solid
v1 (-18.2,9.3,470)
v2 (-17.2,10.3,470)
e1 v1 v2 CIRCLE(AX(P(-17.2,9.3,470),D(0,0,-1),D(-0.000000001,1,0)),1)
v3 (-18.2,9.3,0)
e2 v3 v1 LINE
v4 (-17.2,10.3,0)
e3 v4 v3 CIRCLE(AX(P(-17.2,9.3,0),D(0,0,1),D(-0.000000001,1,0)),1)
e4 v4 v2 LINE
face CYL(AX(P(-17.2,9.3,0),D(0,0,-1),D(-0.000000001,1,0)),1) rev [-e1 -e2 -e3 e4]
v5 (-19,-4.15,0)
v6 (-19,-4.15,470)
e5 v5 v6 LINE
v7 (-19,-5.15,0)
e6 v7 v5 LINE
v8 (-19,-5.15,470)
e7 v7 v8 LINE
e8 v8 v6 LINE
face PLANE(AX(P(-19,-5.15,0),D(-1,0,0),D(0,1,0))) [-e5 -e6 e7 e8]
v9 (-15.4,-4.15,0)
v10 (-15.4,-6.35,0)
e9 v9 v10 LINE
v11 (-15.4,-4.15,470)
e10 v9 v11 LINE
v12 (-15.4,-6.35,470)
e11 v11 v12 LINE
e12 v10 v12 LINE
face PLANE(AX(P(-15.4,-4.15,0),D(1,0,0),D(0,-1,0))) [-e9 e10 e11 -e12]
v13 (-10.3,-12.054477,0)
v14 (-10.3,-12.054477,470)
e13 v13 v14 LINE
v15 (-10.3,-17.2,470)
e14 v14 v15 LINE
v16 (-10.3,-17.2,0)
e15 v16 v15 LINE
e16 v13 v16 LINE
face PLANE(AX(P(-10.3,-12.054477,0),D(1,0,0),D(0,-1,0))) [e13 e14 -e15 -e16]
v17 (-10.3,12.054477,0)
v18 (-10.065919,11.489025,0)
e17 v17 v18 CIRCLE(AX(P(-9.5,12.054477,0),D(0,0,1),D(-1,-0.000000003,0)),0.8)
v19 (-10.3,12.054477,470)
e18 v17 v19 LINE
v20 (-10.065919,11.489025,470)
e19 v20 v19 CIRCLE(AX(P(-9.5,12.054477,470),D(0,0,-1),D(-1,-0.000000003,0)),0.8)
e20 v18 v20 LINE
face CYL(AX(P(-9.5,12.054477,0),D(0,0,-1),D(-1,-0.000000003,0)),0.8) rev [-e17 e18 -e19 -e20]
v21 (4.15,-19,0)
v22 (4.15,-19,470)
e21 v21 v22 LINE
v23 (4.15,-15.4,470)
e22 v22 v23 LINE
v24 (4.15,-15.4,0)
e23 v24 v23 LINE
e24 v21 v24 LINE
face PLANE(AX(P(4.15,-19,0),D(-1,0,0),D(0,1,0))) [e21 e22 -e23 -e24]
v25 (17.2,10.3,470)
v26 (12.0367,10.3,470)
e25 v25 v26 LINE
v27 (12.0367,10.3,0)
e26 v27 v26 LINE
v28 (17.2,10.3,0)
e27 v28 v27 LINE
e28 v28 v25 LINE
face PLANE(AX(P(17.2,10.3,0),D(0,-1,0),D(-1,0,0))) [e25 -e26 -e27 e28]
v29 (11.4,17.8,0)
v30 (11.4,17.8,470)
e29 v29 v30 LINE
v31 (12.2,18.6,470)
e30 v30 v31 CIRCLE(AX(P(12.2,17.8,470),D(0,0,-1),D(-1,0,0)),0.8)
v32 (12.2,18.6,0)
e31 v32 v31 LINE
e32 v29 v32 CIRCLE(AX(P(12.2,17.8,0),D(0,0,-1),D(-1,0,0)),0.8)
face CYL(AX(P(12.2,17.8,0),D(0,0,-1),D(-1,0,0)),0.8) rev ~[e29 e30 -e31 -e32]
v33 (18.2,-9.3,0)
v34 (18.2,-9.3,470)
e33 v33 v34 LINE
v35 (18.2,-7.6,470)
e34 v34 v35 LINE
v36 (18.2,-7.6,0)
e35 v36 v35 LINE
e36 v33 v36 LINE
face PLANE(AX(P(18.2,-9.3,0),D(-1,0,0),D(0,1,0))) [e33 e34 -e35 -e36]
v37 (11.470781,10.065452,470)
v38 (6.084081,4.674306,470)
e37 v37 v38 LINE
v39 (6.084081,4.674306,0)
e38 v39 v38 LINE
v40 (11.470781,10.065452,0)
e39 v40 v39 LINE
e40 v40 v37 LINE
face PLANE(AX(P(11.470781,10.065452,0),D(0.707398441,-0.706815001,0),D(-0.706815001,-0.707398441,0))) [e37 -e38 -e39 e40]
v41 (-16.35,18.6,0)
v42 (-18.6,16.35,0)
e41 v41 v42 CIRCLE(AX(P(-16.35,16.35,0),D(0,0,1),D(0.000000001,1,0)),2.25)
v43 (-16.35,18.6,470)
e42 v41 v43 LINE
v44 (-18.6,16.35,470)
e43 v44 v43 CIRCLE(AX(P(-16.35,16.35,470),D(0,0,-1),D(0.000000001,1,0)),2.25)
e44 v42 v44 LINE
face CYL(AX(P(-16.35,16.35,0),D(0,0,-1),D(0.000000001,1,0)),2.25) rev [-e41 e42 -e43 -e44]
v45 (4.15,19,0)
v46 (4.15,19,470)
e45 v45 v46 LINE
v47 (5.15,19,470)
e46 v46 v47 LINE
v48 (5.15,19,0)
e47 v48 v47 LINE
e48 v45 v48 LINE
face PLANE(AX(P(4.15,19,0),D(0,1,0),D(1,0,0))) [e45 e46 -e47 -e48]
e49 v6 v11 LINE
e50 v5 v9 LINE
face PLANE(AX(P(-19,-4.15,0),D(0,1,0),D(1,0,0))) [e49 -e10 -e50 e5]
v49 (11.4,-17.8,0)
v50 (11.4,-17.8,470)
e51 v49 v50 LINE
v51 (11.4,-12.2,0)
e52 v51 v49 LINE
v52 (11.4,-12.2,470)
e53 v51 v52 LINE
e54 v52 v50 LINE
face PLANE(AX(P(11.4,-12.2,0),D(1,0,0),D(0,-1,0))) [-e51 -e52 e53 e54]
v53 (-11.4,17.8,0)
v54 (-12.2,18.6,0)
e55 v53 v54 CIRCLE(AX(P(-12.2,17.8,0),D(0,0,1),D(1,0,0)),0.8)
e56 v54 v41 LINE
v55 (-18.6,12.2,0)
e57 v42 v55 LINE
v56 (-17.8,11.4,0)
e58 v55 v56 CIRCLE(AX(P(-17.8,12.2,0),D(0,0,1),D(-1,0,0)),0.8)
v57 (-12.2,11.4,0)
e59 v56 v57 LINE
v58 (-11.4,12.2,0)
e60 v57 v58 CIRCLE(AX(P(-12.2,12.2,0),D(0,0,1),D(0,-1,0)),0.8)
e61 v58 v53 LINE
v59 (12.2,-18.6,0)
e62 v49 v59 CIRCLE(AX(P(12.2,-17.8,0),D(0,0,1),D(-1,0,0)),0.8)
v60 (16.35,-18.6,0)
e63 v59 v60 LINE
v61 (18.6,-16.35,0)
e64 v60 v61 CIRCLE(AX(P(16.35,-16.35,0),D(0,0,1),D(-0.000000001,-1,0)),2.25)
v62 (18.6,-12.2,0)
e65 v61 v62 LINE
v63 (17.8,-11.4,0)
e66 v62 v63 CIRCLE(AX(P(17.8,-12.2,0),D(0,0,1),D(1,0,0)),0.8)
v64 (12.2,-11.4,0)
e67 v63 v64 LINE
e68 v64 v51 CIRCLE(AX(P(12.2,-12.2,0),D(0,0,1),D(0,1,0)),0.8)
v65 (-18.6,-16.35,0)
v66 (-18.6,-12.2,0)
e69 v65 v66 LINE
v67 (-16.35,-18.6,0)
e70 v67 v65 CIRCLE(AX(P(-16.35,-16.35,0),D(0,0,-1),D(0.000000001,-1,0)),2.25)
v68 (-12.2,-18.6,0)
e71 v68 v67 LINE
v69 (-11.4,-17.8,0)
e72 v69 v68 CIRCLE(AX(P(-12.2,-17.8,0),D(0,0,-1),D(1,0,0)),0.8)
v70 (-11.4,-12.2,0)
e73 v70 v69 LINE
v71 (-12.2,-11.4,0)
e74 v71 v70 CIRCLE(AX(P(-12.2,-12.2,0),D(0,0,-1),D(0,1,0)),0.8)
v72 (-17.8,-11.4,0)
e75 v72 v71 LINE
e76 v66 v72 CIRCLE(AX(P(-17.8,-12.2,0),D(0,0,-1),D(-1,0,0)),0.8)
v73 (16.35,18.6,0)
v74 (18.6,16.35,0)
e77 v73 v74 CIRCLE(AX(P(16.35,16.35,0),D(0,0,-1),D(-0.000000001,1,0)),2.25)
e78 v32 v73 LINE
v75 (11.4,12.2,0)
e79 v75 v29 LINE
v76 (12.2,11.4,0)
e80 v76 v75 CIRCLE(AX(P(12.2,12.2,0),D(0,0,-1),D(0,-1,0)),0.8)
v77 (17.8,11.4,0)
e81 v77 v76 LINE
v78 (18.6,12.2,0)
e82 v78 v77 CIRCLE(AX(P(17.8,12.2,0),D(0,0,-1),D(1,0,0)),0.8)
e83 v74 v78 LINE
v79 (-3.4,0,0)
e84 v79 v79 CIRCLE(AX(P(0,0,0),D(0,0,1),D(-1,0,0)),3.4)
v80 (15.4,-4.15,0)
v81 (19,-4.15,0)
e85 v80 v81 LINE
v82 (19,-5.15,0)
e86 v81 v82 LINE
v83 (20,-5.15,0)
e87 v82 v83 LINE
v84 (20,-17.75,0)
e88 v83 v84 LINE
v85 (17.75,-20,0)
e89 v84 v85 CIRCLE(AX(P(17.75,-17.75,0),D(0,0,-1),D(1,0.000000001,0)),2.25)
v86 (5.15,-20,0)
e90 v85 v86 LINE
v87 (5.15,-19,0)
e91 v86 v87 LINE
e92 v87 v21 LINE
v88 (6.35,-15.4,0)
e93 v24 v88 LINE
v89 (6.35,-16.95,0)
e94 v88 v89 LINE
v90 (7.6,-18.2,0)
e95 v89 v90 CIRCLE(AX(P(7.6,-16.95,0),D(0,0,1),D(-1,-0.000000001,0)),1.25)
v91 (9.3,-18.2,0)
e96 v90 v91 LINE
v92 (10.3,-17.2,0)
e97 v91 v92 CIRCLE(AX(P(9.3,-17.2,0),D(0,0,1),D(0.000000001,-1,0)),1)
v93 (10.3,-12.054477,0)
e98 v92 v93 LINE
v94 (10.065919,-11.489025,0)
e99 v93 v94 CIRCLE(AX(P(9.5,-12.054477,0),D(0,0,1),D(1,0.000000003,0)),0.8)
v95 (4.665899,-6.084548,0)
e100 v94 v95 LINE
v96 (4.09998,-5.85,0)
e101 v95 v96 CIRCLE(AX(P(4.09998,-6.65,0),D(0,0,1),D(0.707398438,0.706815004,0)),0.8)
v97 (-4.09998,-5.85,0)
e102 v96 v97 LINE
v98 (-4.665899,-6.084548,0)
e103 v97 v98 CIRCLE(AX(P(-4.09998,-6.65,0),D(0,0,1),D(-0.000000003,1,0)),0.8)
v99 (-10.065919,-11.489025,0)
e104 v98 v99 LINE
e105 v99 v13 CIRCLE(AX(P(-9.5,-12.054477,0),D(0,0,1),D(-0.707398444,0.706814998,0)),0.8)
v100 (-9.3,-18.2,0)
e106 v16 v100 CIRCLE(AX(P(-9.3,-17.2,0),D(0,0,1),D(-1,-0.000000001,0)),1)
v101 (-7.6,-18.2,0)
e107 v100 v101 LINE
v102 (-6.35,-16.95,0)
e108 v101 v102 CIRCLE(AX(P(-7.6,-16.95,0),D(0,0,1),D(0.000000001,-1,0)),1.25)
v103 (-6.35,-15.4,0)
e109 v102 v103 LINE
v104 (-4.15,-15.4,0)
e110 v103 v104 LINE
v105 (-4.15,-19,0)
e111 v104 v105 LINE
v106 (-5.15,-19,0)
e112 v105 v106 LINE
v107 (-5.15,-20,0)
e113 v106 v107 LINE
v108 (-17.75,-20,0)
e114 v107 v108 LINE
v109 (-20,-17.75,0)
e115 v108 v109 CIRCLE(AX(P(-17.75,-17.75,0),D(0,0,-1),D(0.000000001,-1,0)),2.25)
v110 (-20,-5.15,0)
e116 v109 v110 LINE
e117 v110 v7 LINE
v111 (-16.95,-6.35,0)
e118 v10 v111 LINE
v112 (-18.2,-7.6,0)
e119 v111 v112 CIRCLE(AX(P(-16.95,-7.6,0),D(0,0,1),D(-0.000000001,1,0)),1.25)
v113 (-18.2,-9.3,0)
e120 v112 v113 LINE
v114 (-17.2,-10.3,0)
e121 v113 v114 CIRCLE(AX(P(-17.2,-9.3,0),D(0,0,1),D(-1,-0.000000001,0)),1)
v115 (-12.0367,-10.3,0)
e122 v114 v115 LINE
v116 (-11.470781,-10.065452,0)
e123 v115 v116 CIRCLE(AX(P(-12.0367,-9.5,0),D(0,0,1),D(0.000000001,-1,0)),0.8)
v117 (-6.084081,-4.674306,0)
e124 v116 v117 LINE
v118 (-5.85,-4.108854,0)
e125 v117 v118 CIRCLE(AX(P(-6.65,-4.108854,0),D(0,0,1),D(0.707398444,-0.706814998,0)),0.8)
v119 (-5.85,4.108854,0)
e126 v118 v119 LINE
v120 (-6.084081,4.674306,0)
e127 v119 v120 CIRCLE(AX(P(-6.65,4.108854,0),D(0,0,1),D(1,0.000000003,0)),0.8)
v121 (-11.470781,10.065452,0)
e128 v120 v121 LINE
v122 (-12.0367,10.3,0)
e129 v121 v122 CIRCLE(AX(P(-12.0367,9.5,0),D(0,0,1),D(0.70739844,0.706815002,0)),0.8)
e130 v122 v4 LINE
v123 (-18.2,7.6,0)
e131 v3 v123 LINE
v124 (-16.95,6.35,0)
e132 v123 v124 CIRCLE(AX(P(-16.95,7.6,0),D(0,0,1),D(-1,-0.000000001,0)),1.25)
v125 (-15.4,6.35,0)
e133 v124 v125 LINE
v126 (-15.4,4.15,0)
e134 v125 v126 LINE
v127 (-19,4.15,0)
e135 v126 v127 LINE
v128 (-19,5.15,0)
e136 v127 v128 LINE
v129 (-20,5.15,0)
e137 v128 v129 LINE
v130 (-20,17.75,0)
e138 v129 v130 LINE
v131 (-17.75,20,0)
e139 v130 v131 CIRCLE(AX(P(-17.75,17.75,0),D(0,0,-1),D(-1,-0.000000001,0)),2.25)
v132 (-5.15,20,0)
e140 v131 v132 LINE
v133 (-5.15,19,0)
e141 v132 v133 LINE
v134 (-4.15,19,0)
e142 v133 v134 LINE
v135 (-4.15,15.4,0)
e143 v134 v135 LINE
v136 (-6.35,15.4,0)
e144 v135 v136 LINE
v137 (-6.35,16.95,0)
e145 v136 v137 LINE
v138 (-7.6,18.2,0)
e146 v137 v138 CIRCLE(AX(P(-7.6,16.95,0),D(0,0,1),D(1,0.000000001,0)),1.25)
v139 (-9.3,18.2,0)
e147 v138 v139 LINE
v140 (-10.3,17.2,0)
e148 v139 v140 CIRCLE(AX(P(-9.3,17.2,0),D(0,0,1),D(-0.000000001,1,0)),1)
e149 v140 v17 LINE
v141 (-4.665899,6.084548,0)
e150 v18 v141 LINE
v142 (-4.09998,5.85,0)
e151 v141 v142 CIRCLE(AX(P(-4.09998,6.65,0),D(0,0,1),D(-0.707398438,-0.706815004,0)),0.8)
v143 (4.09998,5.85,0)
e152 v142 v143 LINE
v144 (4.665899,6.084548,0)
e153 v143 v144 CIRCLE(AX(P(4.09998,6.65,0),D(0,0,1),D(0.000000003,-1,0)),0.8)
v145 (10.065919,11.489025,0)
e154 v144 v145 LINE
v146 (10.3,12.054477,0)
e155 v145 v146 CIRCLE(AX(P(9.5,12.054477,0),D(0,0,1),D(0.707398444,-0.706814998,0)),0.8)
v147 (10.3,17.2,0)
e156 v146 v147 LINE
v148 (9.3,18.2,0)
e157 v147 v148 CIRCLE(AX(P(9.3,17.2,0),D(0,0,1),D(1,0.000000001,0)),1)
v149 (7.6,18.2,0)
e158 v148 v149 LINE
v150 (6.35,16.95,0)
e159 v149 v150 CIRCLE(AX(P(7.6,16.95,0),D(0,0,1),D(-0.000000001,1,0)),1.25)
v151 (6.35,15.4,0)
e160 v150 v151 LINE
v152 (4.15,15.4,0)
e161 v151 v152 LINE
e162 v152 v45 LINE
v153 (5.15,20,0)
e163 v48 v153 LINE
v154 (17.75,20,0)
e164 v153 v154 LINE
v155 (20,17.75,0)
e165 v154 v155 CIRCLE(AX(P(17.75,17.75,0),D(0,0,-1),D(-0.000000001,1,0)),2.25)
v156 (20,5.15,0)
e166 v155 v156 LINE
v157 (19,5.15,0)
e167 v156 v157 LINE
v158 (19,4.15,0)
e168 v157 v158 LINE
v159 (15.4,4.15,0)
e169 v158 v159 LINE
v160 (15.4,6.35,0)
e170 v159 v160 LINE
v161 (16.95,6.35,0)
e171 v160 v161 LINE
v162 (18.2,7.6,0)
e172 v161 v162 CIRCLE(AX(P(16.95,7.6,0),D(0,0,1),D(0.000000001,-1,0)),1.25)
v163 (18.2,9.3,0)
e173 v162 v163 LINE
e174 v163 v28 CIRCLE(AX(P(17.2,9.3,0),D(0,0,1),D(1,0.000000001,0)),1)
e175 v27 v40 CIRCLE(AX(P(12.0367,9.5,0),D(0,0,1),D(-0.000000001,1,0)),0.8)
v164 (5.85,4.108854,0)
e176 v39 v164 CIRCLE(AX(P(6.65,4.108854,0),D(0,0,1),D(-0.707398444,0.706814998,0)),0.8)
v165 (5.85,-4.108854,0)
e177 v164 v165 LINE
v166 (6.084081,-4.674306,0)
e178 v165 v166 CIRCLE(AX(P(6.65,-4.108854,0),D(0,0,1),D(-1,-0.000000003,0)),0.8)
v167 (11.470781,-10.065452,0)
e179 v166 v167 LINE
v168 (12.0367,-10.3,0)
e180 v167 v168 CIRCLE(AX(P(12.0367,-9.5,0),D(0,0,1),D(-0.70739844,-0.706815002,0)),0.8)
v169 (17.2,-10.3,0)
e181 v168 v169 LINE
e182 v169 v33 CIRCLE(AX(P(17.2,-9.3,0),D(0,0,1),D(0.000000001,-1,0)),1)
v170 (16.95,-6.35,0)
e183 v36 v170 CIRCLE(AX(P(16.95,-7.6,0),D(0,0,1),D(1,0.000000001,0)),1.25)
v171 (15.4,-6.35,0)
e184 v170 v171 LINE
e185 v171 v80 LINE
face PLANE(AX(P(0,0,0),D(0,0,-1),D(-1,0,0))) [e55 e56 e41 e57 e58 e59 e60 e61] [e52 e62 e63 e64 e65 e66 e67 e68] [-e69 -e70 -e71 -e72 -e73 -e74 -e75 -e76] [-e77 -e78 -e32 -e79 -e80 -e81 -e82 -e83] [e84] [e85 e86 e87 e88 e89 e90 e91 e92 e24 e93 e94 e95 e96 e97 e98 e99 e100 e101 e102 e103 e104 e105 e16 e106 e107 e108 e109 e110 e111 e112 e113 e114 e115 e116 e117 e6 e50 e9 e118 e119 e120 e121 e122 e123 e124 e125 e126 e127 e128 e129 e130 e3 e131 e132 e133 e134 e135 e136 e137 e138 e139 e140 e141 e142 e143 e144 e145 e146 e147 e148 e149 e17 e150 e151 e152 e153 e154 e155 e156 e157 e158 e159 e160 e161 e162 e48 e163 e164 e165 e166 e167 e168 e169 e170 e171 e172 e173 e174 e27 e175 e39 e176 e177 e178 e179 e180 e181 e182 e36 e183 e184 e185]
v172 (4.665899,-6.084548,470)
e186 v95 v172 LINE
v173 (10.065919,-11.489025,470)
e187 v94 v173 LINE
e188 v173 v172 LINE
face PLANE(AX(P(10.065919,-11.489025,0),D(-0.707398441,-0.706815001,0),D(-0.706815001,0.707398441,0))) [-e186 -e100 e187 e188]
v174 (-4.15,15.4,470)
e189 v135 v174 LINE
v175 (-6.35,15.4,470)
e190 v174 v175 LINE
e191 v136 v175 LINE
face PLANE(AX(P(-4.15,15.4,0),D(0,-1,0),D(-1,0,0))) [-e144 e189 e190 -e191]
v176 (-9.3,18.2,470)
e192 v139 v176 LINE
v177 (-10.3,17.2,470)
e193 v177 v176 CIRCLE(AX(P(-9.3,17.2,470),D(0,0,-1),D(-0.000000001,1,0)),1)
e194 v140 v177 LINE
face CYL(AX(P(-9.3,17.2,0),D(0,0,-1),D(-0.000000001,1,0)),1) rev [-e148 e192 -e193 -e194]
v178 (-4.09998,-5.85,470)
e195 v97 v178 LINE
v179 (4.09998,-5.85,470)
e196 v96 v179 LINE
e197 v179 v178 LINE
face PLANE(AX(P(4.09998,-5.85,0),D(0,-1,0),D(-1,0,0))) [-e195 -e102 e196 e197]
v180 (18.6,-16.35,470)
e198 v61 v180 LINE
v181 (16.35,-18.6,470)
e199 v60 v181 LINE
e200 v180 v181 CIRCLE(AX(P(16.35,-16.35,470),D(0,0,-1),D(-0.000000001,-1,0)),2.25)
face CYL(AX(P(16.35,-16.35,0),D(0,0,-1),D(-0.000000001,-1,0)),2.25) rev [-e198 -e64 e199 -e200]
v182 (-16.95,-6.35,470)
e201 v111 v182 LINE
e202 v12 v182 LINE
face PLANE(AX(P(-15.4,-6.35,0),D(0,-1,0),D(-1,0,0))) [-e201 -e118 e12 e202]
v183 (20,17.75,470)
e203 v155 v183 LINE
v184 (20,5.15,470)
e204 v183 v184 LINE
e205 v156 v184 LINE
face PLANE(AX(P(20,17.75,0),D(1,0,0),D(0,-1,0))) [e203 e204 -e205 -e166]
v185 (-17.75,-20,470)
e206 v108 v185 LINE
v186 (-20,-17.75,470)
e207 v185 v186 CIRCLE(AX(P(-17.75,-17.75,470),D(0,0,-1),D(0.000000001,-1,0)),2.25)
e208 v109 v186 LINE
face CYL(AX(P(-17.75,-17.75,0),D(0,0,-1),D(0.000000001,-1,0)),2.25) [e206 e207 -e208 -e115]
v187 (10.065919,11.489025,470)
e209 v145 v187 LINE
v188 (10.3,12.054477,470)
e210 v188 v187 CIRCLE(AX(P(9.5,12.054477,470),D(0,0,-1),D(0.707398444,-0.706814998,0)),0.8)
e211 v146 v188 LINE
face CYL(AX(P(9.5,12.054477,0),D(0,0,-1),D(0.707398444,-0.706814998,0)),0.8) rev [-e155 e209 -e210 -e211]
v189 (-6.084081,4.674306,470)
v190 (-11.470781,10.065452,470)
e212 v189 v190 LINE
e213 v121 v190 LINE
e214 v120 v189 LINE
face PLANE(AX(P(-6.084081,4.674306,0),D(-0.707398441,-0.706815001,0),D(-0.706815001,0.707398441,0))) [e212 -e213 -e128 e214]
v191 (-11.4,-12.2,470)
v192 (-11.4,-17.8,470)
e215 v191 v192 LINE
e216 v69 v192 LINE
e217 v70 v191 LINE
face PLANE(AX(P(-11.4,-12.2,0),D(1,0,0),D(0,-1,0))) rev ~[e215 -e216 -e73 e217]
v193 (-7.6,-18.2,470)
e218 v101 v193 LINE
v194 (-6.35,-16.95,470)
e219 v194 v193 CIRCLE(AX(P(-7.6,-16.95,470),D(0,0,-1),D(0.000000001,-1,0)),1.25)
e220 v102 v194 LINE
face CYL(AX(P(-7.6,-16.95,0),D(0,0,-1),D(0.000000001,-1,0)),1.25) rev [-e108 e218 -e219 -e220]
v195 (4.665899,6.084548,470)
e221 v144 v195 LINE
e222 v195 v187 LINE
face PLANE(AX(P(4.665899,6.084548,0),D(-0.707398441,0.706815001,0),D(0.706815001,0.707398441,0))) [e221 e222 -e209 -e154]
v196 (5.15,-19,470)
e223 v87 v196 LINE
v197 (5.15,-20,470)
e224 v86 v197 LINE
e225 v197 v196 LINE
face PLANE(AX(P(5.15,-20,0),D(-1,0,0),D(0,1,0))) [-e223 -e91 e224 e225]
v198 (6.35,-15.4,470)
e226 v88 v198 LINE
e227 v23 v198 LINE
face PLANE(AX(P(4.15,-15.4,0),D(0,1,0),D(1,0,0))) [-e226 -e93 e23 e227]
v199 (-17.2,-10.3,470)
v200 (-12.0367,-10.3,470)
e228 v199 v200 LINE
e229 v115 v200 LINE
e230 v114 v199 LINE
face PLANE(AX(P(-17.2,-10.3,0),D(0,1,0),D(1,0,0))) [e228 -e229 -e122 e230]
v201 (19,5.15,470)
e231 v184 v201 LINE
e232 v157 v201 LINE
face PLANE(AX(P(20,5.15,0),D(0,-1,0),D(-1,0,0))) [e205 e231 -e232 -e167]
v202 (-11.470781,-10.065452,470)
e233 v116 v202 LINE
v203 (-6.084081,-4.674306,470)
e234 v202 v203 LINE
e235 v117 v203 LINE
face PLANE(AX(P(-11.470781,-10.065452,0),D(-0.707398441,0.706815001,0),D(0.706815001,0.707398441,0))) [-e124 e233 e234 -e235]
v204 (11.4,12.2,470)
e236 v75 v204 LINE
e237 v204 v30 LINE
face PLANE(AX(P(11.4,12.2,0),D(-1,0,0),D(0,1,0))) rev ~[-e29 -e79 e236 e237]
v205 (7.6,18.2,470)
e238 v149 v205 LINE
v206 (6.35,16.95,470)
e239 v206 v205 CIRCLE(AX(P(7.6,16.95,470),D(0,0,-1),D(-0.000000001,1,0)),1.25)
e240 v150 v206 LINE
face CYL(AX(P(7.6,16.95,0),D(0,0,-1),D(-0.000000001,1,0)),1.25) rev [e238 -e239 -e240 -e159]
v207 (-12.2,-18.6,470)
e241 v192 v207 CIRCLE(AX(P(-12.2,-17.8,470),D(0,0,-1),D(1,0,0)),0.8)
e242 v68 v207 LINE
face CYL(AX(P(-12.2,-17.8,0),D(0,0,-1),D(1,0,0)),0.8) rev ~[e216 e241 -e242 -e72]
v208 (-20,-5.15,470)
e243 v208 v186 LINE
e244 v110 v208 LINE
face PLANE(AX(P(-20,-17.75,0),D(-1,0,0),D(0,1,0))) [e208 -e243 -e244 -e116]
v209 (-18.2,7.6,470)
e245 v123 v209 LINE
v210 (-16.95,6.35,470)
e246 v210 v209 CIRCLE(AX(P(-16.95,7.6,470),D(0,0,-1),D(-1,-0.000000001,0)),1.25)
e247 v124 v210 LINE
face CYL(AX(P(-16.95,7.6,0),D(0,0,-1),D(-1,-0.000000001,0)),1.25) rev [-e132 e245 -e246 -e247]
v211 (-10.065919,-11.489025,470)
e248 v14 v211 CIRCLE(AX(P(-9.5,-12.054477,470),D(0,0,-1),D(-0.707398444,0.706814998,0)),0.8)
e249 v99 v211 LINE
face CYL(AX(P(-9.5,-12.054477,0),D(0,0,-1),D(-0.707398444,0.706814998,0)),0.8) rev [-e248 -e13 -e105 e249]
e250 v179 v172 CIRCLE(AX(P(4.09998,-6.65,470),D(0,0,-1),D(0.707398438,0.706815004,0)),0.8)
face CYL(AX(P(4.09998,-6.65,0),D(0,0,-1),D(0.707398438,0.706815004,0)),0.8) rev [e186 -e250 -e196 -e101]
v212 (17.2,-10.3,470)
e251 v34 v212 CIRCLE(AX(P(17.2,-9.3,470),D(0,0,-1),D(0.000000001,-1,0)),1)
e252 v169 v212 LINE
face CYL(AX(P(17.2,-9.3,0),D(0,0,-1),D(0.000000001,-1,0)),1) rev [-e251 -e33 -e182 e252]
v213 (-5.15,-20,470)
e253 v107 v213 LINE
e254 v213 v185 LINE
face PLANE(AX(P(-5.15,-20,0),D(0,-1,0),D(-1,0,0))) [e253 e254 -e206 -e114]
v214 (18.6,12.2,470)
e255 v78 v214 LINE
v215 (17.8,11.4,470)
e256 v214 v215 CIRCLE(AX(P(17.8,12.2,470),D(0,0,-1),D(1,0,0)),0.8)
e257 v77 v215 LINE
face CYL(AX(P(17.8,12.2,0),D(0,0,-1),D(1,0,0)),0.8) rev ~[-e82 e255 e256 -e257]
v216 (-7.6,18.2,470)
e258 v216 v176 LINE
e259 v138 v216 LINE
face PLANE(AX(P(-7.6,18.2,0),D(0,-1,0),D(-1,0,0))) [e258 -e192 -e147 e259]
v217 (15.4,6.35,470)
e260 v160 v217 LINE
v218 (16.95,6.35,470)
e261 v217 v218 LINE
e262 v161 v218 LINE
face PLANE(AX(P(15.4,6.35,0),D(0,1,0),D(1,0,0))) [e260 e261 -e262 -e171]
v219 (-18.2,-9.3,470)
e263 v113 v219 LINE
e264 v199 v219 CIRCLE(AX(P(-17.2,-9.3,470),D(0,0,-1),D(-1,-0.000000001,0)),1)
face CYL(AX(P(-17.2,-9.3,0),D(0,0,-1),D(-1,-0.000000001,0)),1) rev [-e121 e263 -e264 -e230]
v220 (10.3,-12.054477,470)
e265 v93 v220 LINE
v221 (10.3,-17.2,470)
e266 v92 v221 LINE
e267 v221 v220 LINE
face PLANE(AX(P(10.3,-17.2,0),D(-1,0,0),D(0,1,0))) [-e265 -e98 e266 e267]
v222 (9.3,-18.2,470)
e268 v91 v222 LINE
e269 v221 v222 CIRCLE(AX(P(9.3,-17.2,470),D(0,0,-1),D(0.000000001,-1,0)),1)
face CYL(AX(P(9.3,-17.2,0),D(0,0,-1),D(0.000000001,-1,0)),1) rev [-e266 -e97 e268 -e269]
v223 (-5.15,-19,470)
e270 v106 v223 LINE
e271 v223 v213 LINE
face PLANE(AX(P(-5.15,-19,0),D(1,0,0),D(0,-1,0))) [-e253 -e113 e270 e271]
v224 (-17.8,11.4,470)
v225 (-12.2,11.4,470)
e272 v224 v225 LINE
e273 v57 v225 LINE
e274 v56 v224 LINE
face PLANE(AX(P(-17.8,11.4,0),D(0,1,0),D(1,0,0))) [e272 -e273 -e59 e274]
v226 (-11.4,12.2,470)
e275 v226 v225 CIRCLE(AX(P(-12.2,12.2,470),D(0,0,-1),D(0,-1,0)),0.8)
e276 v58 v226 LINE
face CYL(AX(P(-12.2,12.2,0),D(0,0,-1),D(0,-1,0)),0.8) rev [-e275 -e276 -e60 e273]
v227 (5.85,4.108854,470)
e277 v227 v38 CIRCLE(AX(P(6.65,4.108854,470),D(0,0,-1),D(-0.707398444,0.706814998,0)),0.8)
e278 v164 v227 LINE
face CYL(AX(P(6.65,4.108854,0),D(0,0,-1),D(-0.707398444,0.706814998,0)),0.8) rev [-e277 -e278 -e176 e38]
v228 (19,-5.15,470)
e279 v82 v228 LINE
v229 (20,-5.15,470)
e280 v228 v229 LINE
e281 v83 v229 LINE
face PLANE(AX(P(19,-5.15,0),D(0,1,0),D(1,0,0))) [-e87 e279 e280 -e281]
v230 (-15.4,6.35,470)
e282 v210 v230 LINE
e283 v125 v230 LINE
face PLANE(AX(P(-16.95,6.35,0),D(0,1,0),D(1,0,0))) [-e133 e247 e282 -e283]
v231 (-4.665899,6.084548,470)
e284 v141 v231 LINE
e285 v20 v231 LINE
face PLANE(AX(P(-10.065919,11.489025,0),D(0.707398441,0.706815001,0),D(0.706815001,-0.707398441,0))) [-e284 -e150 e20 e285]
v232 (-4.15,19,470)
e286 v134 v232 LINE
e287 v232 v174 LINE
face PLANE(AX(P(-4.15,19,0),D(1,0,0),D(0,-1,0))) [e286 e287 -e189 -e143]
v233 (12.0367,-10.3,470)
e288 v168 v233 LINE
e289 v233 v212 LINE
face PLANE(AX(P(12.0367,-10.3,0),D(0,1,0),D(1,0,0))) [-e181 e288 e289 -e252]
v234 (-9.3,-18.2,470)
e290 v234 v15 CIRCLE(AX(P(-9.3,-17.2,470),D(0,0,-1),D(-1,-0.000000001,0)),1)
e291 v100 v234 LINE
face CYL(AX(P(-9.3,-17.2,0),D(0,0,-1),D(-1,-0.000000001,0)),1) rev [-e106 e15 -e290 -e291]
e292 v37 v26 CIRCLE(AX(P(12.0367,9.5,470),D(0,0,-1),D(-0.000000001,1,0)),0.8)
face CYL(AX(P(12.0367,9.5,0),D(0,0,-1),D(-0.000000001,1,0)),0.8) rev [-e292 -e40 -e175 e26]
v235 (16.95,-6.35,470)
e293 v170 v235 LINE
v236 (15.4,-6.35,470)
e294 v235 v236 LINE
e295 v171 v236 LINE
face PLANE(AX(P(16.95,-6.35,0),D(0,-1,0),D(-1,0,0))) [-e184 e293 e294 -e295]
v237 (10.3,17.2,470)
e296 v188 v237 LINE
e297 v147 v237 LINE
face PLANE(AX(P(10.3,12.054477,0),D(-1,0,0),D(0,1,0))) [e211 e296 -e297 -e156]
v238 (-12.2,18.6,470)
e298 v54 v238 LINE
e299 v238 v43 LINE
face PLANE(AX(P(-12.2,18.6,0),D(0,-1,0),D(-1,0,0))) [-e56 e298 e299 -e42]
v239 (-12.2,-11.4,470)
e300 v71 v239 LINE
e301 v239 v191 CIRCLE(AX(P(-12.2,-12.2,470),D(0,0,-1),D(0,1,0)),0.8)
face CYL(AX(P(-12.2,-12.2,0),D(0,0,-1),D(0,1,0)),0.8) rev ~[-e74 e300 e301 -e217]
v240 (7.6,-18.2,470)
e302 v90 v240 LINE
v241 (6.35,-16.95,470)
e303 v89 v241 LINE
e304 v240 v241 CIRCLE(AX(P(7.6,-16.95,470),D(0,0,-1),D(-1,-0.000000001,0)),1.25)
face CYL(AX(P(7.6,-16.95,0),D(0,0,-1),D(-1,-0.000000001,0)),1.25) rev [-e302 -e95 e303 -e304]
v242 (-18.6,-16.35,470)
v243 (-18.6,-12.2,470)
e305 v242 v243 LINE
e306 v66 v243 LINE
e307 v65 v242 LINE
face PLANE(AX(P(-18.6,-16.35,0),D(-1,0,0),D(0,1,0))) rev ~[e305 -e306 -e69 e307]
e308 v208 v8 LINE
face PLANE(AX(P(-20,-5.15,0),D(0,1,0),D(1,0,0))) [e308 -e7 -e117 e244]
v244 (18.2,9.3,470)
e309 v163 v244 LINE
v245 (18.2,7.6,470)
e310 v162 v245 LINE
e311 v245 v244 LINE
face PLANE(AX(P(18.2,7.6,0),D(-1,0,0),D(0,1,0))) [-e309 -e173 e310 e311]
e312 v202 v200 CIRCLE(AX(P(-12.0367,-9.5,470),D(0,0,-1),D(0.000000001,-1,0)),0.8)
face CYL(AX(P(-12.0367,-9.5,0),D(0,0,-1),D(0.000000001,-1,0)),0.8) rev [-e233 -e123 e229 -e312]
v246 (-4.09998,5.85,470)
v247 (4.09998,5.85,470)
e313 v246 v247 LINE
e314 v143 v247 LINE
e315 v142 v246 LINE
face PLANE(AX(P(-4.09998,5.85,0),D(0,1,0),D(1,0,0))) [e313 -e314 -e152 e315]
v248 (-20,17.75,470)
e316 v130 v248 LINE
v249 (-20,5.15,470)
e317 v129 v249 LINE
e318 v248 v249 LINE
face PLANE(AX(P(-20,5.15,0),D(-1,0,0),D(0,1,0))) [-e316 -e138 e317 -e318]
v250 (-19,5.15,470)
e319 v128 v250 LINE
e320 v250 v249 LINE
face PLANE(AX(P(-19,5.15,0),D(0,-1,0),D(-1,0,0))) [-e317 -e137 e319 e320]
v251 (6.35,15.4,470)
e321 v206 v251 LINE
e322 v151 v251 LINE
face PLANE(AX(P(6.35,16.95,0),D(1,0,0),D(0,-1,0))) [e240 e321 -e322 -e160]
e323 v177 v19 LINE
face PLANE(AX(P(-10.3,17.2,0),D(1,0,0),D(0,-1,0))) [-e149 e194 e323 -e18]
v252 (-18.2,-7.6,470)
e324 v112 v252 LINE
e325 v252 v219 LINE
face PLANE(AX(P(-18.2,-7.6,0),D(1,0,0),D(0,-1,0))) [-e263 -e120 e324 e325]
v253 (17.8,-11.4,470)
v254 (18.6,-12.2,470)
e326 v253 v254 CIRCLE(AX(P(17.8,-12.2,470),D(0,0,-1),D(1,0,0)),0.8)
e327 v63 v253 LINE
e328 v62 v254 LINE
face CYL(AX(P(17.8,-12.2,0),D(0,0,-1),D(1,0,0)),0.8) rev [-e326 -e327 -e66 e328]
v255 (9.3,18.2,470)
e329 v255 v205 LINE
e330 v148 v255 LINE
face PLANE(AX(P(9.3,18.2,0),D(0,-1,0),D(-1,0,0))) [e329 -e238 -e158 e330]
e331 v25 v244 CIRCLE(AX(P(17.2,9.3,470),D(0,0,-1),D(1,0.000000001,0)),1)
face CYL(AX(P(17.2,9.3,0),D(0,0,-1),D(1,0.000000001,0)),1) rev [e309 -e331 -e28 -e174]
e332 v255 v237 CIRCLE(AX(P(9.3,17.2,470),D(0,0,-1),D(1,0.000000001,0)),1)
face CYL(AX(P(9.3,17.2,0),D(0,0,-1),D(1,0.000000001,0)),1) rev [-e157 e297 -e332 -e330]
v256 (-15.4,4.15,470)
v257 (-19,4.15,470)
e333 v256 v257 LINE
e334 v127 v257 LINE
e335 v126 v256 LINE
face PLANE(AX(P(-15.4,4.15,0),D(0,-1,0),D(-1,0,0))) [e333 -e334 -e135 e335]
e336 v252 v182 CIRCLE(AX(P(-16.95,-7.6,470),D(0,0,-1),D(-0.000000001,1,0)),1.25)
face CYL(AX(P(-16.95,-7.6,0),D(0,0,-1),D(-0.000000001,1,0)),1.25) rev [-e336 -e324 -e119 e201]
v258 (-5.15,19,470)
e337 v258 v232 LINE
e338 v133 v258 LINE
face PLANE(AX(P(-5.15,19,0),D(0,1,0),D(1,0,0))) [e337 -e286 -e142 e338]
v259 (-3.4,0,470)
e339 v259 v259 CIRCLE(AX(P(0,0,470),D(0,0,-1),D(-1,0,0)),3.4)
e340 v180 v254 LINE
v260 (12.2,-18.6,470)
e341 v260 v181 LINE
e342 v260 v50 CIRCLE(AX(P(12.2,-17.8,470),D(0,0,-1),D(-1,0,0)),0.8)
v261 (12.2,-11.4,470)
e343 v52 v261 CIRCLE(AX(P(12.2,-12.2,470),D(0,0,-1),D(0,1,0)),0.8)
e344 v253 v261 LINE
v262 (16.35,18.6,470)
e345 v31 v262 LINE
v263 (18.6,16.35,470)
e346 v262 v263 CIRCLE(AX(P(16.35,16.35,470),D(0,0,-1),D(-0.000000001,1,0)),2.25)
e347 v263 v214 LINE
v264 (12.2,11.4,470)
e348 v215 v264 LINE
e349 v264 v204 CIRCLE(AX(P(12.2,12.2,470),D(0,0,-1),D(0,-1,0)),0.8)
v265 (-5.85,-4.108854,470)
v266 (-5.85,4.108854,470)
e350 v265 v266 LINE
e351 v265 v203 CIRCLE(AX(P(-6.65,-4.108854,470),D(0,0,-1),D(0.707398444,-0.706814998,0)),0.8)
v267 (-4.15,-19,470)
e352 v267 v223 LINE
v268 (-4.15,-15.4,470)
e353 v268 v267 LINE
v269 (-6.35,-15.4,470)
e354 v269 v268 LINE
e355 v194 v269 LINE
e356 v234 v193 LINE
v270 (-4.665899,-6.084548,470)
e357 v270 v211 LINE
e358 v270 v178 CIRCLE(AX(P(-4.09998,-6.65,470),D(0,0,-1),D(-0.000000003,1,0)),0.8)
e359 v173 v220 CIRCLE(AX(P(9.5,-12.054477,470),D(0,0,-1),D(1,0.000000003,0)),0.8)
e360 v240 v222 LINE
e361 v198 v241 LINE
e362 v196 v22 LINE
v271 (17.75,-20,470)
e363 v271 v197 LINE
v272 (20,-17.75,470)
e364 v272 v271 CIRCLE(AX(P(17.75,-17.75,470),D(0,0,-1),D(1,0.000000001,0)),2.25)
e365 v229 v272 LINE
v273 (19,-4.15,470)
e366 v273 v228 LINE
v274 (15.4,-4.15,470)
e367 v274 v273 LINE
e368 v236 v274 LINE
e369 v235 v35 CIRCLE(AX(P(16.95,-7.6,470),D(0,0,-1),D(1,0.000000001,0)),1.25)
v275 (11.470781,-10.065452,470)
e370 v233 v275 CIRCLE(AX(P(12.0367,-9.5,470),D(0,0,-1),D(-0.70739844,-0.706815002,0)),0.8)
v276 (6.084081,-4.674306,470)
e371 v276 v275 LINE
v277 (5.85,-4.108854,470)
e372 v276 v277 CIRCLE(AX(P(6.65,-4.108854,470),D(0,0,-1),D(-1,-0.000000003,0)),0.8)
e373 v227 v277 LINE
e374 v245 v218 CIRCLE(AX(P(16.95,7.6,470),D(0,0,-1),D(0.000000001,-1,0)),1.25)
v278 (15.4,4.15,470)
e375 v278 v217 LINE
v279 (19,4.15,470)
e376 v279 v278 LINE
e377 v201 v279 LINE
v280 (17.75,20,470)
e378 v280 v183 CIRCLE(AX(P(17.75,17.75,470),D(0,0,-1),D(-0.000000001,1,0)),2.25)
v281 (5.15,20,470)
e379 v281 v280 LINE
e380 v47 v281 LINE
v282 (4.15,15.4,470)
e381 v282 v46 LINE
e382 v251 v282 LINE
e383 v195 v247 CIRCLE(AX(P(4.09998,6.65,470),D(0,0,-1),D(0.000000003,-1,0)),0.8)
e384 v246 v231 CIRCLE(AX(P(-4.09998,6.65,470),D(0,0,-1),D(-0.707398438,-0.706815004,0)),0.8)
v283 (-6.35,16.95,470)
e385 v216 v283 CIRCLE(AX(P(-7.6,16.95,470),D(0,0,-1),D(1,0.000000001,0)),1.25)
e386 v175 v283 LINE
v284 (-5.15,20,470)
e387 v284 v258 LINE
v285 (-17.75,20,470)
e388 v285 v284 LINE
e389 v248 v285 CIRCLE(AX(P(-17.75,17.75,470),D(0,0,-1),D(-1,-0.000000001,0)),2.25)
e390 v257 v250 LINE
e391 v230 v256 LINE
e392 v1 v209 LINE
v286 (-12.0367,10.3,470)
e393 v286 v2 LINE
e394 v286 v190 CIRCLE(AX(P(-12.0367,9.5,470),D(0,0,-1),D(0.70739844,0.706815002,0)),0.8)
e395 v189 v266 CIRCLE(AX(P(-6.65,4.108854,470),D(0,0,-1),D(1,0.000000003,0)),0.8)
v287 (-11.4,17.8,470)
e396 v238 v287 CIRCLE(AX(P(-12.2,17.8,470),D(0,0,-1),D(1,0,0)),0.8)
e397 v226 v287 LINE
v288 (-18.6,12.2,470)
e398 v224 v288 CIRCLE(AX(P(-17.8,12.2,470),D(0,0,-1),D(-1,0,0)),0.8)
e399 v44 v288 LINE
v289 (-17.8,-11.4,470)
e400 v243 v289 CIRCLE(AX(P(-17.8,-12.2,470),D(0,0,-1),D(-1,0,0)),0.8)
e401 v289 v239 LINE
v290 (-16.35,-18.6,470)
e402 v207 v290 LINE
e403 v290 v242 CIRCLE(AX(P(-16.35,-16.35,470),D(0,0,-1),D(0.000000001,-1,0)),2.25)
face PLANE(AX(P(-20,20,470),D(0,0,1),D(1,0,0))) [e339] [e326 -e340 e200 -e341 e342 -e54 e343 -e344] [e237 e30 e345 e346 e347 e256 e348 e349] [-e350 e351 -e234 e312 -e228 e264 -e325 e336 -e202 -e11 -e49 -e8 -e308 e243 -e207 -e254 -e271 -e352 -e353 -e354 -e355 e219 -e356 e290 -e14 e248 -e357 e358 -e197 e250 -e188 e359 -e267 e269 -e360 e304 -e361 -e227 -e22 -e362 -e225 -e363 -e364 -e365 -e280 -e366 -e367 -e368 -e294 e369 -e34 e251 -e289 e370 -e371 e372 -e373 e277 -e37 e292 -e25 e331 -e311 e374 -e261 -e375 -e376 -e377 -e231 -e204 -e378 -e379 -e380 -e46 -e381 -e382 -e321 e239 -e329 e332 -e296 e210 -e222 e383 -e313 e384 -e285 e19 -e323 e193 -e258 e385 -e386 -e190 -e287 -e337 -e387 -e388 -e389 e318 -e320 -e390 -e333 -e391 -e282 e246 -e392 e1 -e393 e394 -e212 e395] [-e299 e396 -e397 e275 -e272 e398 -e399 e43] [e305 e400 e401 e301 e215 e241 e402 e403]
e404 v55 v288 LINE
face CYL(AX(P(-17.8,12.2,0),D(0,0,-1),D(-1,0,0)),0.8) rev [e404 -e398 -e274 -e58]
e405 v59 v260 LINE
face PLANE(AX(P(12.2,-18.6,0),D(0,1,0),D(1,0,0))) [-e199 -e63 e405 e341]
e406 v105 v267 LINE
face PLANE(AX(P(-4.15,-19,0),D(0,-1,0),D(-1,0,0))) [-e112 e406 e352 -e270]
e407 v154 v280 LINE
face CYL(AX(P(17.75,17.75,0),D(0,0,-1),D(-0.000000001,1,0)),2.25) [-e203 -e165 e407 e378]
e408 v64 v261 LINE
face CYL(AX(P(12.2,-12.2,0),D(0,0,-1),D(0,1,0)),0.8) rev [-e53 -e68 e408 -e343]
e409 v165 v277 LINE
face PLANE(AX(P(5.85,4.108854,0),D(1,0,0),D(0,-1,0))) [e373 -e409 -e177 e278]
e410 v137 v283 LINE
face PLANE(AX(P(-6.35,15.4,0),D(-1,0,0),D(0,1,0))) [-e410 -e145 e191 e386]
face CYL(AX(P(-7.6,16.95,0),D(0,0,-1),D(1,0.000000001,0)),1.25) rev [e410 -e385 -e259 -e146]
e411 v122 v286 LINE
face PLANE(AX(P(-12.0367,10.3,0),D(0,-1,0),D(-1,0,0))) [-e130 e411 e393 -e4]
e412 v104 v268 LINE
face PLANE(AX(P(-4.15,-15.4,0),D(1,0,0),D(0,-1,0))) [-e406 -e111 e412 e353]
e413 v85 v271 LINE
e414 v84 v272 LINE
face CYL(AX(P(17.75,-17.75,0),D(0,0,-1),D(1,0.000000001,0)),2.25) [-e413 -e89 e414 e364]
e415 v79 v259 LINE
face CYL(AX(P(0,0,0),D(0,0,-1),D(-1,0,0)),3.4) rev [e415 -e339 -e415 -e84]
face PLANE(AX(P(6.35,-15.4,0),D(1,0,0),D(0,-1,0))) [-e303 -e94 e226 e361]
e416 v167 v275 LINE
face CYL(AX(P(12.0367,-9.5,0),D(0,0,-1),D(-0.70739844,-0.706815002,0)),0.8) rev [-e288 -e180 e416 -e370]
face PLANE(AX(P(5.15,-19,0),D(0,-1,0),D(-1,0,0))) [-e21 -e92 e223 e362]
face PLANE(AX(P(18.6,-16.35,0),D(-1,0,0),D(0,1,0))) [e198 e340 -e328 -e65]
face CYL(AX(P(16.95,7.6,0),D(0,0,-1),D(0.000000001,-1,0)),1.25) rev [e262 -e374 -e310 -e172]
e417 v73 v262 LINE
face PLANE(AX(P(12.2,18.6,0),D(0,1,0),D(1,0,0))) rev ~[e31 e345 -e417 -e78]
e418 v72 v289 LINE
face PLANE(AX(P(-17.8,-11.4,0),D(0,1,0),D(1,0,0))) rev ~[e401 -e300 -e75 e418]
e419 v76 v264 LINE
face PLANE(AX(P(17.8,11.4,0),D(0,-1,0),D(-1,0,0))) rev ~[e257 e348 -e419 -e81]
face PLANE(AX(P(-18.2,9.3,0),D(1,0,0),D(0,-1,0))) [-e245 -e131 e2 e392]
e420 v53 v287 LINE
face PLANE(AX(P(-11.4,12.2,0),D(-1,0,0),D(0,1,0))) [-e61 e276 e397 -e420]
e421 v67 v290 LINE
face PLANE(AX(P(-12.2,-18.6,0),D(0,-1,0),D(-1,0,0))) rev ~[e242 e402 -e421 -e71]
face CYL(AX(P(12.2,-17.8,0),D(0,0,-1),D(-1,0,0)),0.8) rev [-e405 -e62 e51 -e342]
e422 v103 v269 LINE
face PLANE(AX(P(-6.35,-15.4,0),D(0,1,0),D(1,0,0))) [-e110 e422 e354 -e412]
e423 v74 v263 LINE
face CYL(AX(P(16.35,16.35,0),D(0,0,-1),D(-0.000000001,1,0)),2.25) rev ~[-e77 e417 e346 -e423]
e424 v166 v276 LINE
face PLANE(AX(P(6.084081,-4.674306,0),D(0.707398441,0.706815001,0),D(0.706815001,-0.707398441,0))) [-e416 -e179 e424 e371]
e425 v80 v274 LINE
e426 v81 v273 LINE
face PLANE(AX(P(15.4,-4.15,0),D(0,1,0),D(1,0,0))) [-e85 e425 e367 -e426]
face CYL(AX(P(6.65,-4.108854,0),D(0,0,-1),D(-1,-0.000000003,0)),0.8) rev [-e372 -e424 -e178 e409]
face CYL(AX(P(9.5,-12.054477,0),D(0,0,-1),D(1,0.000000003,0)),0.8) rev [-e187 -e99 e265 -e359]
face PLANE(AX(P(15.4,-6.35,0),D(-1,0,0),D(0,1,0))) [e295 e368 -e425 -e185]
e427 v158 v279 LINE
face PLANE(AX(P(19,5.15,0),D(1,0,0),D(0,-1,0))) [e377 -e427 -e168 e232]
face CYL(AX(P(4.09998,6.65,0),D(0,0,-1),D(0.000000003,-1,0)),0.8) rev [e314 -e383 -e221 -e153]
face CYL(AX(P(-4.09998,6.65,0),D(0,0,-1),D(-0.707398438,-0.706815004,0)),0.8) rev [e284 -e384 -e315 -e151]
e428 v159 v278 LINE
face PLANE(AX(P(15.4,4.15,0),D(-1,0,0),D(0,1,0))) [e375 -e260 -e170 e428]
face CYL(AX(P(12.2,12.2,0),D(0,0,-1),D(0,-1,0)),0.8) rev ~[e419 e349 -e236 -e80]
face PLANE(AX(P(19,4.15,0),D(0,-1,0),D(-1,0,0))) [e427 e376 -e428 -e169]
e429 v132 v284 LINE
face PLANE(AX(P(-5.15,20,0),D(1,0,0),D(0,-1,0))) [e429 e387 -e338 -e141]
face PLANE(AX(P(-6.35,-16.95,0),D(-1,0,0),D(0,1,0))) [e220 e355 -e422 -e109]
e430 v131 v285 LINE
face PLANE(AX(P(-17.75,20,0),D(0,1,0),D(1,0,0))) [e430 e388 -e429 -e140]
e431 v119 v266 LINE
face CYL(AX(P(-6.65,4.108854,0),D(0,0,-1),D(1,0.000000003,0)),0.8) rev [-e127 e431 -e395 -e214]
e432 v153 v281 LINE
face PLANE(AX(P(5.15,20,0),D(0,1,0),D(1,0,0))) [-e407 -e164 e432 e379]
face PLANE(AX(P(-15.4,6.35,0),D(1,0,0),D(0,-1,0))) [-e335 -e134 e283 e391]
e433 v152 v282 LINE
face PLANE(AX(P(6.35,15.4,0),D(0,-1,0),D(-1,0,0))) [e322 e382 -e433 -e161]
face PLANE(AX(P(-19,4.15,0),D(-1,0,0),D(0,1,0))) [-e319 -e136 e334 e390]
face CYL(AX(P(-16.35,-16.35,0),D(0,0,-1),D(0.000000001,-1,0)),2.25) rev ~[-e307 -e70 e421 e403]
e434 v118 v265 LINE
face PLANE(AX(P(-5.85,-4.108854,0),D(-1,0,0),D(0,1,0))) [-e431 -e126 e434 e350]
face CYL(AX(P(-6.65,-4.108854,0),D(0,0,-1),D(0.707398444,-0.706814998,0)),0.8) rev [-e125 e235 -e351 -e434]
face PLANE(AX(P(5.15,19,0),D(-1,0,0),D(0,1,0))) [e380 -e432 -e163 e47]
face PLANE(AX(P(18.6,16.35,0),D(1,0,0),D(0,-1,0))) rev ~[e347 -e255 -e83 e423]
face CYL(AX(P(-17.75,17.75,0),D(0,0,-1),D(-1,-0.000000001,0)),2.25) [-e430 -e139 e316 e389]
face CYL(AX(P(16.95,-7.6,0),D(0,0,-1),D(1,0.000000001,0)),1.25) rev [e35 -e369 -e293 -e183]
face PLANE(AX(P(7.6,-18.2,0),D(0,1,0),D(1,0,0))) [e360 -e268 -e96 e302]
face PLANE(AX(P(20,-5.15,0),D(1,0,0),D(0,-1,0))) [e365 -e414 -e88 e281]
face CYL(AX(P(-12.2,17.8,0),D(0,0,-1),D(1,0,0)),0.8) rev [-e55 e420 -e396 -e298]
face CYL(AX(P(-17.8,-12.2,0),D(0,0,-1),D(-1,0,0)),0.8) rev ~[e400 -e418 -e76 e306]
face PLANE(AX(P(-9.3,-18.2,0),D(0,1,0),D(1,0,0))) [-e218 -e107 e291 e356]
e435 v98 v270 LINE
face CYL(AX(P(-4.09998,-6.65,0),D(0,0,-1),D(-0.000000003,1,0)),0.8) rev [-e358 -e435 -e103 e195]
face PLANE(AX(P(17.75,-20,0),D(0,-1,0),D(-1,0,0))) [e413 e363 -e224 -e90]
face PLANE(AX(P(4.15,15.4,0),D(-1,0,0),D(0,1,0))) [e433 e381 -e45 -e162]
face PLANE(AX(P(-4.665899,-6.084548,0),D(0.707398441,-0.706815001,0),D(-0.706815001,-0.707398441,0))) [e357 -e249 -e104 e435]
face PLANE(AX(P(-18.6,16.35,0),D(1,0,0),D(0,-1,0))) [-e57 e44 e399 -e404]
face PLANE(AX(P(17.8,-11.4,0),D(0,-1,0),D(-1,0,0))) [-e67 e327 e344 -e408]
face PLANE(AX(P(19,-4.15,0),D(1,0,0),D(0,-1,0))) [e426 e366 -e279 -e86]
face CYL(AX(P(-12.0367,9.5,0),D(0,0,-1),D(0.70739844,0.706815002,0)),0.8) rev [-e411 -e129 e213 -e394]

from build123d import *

# Parameters (mm, degrees)
SKETCH1_R           = 3.4
BOSS_EXTRUDE1_DEPTH = 713
SKETCH2_W           = 40
SKETCH2_H           = 243
CUT_EXTRUDE1_DEPTH  = 715.401147815


with BuildPart() as part:
    # Sketch1 → Boss-Extrude1 (new body)
    with BuildSketch(Plane.XY):
        with BuildLine():
            Line((20, 17.75), (20, 5.15))
            Line((20, 5.15), (19, 5.15))
            Line((19, 5.15), (19, 4.15))
            Line((19, 4.15), (15.4, 4.15))
            Line((15.4, 4.15), (15.4, 6.35))
            Line((15.4, 6.35), (16.95, 6.35))
            ThreePointArc((16.95, 6.35), (17.833883476, 6.716116524), (18.2, 7.6))
            Line((18.2, 7.6), (18.2, 9.3))
            ThreePointArc((18.2, 9.3), (17.907106781, 10.007106781), (17.2, 10.3))
            Line((17.2, 10.3), (12.03669957, 10.3))
            ThreePointArc((12.03669957, 10.3), (11.73040037, 10.239040459), (11.470780817, 10.065452001))
            Line((11.470780817, 10.065452001), (6.084081247, 4.674305984))
            ThreePointArc((6.084081247, 4.674305984), (5.910833239, 4.414848262), (5.85, 4.108853983))
            Line((5.85, 4.108853983), (5.85, -4.108853983))
            ThreePointArc((5.85, -4.108853983), (5.910833239, -4.414848262), (6.084081247, -4.674305984))
            Line((6.084081247, -4.674305984), (11.470780817, -10.065452001))
            ThreePointArc((11.470780817, -10.065452001), (11.73040037, -10.239040459), (12.03669957, -10.3))
            Line((12.03669957, -10.3), (17.2, -10.3))
            ThreePointArc((17.2, -10.3), (17.907106781, -10.007106781), (18.2, -9.3))
            Line((18.2, -9.3), (18.2, -7.6))
            ThreePointArc((18.2, -7.6), (17.833883476, -6.716116524), (16.95, -6.35))
            Line((16.95, -6.35), (15.4, -6.35))
            Line((15.4, -6.35), (15.4, -4.15))
            Line((15.4, -4.15), (19, -4.15))
            Line((19, -4.15), (19, -5.15))
            Line((19, -5.15), (20, -5.15))
            Line((20, -5.15), (20, -17.75))
            ThreePointArc((20, -17.75), (19.340990258, -19.340990258), (17.75, -20))
            Line((17.75, -20), (5.15, -20))
            Line((5.15, -20), (5.15, -19))
            Line((5.15, -19), (4.15, -19))
            Line((4.15, -19), (4.15, -15.4))
            Line((4.15, -15.4), (6.35, -15.4))
            Line((6.35, -15.4), (6.35, -16.95))
            ThreePointArc((6.35, -16.95), (6.716116524, -17.833883476), (7.6, -18.2))
            Line((7.6, -18.2), (9.3, -18.2))
            ThreePointArc((9.3, -18.2), (10.007106781, -17.907106781), (10.3, -17.2))
            Line((10.3, -17.2), (10.3, -12.054477022))
            ThreePointArc((10.3, -12.054477022), (10.239166761, -11.748482743), (10.065918753, -11.489025021))
            Line((10.065918753, -11.489025021), (4.665899173, -6.084547999))
            ThreePointArc((4.665899173, -6.084547999), (4.406279619, -5.910959541), (4.09998042, -5.85))
            Line((4.09998042, -5.85), (-4.09998042, -5.85))
            ThreePointArc((-4.09998042, -5.85), (-4.406279619, -5.910959541), (-4.665899173, -6.084547999))
            Line((-4.665899173, -6.084547999), (-10.065918753, -11.489025021))
            ThreePointArc((-10.065918753, -11.489025021), (-10.239166761, -11.748482743), (-10.3, -12.054477022))
            Line((-10.3, -12.054477022), (-10.3, -17.2))
            ThreePointArc((-10.3, -17.2), (-10.007106781, -17.907106781), (-9.3, -18.2))
            Line((-9.3, -18.2), (-7.6, -18.2))
            ThreePointArc((-7.6, -18.2), (-6.716116524, -17.833883476), (-6.35, -16.95))
            Line((-6.35, -16.95), (-6.35, -15.4))
            Line((-6.35, -15.4), (-4.15, -15.4))
            Line((-4.15, -15.4), (-4.15, -19))
            Line((-4.15, -19), (-5.15, -19))
            Line((-5.15, -19), (-5.15, -20))
            Line((-5.15, -20), (-17.75, -20))
            ThreePointArc((-17.75, -20), (-19.340990258, -19.340990258), (-20, -17.75))
            Line((-20, -17.75), (-20, -5.15))
            Line((-20, -5.15), (-19, -5.15))
            Line((-19, -5.15), (-19, -4.15))
            Line((-19, -4.15), (-15.4, -4.15))
            Line((-15.4, -4.15), (-15.4, -6.35))
            Line((-15.4, -6.35), (-16.95, -6.35))
            ThreePointArc((-16.95, -6.35), (-17.833883476, -6.716116524), (-18.2, -7.6))
            Line((-18.2, -7.6), (-18.2, -9.3))
            ThreePointArc((-18.2, -9.3), (-17.907106781, -10.007106781), (-17.2, -10.3))
            Line((-17.2, -10.3), (-12.03669957, -10.3))
            ThreePointArc((-12.03669957, -10.3), (-11.73040037, -10.239040459), (-11.470780817, -10.065452001))
            Line((-11.470780817, -10.065452001), (-6.084081247, -4.674305984))
            ThreePointArc((-6.084081247, -4.674305984), (-5.910833239, -4.414848262), (-5.85, -4.108853983))
            Line((-5.85, -4.108853983), (-5.85, 4.108853983))
            ThreePointArc((-5.85, 4.108853983), (-5.910833239, 4.414848262), (-6.084081247, 4.674305984))
            Line((-6.084081247, 4.674305984), (-11.470780817, 10.065452001))
            ThreePointArc((-11.470780817, 10.065452001), (-11.73040037, 10.239040459), (-12.03669957, 10.3))
            Line((-12.03669957, 10.3), (-17.2, 10.3))
            ThreePointArc((-17.2, 10.3), (-17.907106781, 10.007106781), (-18.2, 9.3))
            Line((-18.2, 9.3), (-18.2, 7.6))
            ThreePointArc((-18.2, 7.6), (-17.833883476, 6.716116524), (-16.95, 6.35))
            Line((-16.95, 6.35), (-15.4, 6.35))
            Line((-15.4, 6.35), (-15.4, 4.15))
            Line((-15.4, 4.15), (-19, 4.15))
            Line((-19, 4.15), (-19, 5.15))
            Line((-19, 5.15), (-20, 5.15))
            Line((-20, 5.15), (-20, 17.75))
            ThreePointArc((-20, 17.75), (-19.340990258, 19.340990258), (-17.75, 20))
            Line((-17.75, 20), (-5.15, 20))
            Line((-5.15, 20), (-5.15, 19))
            Line((-5.15, 19), (-4.15, 19))
            Line((-4.15, 19), (-4.15, 15.4))
            Line((-4.15, 15.4), (-6.35, 15.4))
            Line((-6.35, 15.4), (-6.35, 16.95))
            ThreePointArc((-6.35, 16.95), (-6.716116524, 17.833883476), (-7.6, 18.2))
            Line((-7.6, 18.2), (-9.3, 18.2))
            ThreePointArc((-9.3, 18.2), (-10.007106781, 17.907106781), (-10.3, 17.2))
            Line((-10.3, 17.2), (-10.3, 12.054477022))
            ThreePointArc((-10.3, 12.054477022), (-10.239166761, 11.748482743), (-10.065918753, 11.489025021))
            Line((-10.065918753, 11.489025021), (-4.665899173, 6.084547999))
            ThreePointArc((-4.665899173, 6.084547999), (-4.406279619, 5.910959541), (-4.09998042, 5.85))
            Line((-4.09998042, 5.85), (4.09998042, 5.85))
            ThreePointArc((4.09998042, 5.85), (4.406279619, 5.910959541), (4.665899173, 6.084547999))
            Line((4.665899173, 6.084547999), (10.065918753, 11.489025021))
            ThreePointArc((10.065918753, 11.489025021), (10.239166761, 11.748482743), (10.3, 12.054477022))
            Line((10.3, 12.054477022), (10.3, 17.2))
            ThreePointArc((10.3, 17.2), (10.007106781, 17.907106781), (9.3, 18.2))
            Line((9.3, 18.2), (7.6, 18.2))
            ThreePointArc((7.6, 18.2), (6.716116524, 17.833883476), (6.35, 16.95))
            Line((6.35, 16.95), (6.35, 15.4))
            Line((6.35, 15.4), (4.15, 15.4))
            Line((4.15, 15.4), (4.15, 19))
            Line((4.15, 19), (5.15, 19))
            Line((5.15, 19), (5.15, 20))
            Line((5.15, 20), (17.75, 20))
            ThreePointArc((17.75, 20), (19.340990258, 19.340990258), (20, 17.75))
        make_face()
        with Locations(Location((0, 0, 0), (0, 0, 180))):
            Circle(SKETCH1_R, mode=Mode.SUBTRACT)
        with BuildLine():
            Line((18.6, 16.35), (18.6, 12.2))
            ThreePointArc((18.6, 12.2), (18.365685425, 11.634314575), (17.8, 11.4))
            Line((17.8, 11.4), (12.2, 11.4))
            ThreePointArc((12.2, 11.4), (11.634314575, 11.634314575), (11.4, 12.2))
            Line((11.4, 12.2), (11.4, 17.8))
            ThreePointArc((11.4, 17.8), (11.634314575, 18.365685425), (12.2, 18.6))
            Line((12.2, 18.6), (16.35, 18.6))
            ThreePointArc((16.35, 18.6), (17.940990258, 17.940990258), (18.6, 16.35))
        make_face(mode=Mode.SUBTRACT)
        with BuildLine():
            Line((-12.2, 18.6), (-16.35, 18.6))
            ThreePointArc((-16.35, 18.6), (-17.940990258, 17.940990258), (-18.6, 16.35))
            Line((-18.6, 16.35), (-18.6, 12.2))
            ThreePointArc((-18.6, 12.2), (-18.365685425, 11.634314575), (-17.8, 11.4))
            Line((-17.8, 11.4), (-12.2, 11.4))
            ThreePointArc((-12.2, 11.4), (-11.634314575, 11.634314575), (-11.4, 12.2))
            Line((-11.4, 12.2), (-11.4, 17.8))
            ThreePointArc((-11.4, 17.8), (-11.634314575, 18.365685425), (-12.2, 18.6))
        make_face(mode=Mode.SUBTRACT)
        with BuildLine():
            Line((-18.6, -16.35), (-18.6, -12.2))
            ThreePointArc((-18.6, -12.2), (-18.365685425, -11.634314575), (-17.8, -11.4))
            Line((-17.8, -11.4), (-12.2, -11.4))
            ThreePointArc((-12.2, -11.4), (-11.634314575, -11.634314575), (-11.4, -12.2))
            Line((-11.4, -12.2), (-11.4, -17.8))
            ThreePointArc((-11.4, -17.8), (-11.634314575, -18.365685425), (-12.2, -18.6))
            Line((-12.2, -18.6), (-16.35, -18.6))
            ThreePointArc((-16.35, -18.6), (-17.940990258, -17.940990258), (-18.6, -16.35))
        make_face(mode=Mode.SUBTRACT)
        with BuildLine():
            Line((12.2, -18.6), (16.35, -18.6))
            ThreePointArc((16.35, -18.6), (17.940990258, -17.940990258), (18.6, -16.35))
            Line((18.6, -16.35), (18.6, -12.2))
            ThreePointArc((18.6, -12.2), (18.365685425, -11.634314575), (17.8, -11.4))
            Line((17.8, -11.4), (12.2, -11.4))
            ThreePointArc((12.2, -11.4), (11.634314575, -11.634314575), (11.4, -12.2))
            Line((11.4, -12.2), (11.4, -17.8))
            ThreePointArc((11.4, -17.8), (11.634314575, -18.365685425), (12.2, -18.6))
        make_face(mode=Mode.SUBTRACT)
    extrude(amount=BOSS_EXTRUDE1_DEPTH)

    # Sketch2 → Cut-Extrude1 (cut, through all)
    with BuildSketch(Plane(origin=(0, 20, 0), x_dir=(1, 0, 0), z_dir=(0, 1, 0))):
        with Locations((0, -591.5)):
            Rectangle(SKETCH2_W, SKETCH2_H)
    extrude(amount=-CUT_EXTRUDE1_DEPTH, mode=Mode.SUBTRACT)


solid = part.part
